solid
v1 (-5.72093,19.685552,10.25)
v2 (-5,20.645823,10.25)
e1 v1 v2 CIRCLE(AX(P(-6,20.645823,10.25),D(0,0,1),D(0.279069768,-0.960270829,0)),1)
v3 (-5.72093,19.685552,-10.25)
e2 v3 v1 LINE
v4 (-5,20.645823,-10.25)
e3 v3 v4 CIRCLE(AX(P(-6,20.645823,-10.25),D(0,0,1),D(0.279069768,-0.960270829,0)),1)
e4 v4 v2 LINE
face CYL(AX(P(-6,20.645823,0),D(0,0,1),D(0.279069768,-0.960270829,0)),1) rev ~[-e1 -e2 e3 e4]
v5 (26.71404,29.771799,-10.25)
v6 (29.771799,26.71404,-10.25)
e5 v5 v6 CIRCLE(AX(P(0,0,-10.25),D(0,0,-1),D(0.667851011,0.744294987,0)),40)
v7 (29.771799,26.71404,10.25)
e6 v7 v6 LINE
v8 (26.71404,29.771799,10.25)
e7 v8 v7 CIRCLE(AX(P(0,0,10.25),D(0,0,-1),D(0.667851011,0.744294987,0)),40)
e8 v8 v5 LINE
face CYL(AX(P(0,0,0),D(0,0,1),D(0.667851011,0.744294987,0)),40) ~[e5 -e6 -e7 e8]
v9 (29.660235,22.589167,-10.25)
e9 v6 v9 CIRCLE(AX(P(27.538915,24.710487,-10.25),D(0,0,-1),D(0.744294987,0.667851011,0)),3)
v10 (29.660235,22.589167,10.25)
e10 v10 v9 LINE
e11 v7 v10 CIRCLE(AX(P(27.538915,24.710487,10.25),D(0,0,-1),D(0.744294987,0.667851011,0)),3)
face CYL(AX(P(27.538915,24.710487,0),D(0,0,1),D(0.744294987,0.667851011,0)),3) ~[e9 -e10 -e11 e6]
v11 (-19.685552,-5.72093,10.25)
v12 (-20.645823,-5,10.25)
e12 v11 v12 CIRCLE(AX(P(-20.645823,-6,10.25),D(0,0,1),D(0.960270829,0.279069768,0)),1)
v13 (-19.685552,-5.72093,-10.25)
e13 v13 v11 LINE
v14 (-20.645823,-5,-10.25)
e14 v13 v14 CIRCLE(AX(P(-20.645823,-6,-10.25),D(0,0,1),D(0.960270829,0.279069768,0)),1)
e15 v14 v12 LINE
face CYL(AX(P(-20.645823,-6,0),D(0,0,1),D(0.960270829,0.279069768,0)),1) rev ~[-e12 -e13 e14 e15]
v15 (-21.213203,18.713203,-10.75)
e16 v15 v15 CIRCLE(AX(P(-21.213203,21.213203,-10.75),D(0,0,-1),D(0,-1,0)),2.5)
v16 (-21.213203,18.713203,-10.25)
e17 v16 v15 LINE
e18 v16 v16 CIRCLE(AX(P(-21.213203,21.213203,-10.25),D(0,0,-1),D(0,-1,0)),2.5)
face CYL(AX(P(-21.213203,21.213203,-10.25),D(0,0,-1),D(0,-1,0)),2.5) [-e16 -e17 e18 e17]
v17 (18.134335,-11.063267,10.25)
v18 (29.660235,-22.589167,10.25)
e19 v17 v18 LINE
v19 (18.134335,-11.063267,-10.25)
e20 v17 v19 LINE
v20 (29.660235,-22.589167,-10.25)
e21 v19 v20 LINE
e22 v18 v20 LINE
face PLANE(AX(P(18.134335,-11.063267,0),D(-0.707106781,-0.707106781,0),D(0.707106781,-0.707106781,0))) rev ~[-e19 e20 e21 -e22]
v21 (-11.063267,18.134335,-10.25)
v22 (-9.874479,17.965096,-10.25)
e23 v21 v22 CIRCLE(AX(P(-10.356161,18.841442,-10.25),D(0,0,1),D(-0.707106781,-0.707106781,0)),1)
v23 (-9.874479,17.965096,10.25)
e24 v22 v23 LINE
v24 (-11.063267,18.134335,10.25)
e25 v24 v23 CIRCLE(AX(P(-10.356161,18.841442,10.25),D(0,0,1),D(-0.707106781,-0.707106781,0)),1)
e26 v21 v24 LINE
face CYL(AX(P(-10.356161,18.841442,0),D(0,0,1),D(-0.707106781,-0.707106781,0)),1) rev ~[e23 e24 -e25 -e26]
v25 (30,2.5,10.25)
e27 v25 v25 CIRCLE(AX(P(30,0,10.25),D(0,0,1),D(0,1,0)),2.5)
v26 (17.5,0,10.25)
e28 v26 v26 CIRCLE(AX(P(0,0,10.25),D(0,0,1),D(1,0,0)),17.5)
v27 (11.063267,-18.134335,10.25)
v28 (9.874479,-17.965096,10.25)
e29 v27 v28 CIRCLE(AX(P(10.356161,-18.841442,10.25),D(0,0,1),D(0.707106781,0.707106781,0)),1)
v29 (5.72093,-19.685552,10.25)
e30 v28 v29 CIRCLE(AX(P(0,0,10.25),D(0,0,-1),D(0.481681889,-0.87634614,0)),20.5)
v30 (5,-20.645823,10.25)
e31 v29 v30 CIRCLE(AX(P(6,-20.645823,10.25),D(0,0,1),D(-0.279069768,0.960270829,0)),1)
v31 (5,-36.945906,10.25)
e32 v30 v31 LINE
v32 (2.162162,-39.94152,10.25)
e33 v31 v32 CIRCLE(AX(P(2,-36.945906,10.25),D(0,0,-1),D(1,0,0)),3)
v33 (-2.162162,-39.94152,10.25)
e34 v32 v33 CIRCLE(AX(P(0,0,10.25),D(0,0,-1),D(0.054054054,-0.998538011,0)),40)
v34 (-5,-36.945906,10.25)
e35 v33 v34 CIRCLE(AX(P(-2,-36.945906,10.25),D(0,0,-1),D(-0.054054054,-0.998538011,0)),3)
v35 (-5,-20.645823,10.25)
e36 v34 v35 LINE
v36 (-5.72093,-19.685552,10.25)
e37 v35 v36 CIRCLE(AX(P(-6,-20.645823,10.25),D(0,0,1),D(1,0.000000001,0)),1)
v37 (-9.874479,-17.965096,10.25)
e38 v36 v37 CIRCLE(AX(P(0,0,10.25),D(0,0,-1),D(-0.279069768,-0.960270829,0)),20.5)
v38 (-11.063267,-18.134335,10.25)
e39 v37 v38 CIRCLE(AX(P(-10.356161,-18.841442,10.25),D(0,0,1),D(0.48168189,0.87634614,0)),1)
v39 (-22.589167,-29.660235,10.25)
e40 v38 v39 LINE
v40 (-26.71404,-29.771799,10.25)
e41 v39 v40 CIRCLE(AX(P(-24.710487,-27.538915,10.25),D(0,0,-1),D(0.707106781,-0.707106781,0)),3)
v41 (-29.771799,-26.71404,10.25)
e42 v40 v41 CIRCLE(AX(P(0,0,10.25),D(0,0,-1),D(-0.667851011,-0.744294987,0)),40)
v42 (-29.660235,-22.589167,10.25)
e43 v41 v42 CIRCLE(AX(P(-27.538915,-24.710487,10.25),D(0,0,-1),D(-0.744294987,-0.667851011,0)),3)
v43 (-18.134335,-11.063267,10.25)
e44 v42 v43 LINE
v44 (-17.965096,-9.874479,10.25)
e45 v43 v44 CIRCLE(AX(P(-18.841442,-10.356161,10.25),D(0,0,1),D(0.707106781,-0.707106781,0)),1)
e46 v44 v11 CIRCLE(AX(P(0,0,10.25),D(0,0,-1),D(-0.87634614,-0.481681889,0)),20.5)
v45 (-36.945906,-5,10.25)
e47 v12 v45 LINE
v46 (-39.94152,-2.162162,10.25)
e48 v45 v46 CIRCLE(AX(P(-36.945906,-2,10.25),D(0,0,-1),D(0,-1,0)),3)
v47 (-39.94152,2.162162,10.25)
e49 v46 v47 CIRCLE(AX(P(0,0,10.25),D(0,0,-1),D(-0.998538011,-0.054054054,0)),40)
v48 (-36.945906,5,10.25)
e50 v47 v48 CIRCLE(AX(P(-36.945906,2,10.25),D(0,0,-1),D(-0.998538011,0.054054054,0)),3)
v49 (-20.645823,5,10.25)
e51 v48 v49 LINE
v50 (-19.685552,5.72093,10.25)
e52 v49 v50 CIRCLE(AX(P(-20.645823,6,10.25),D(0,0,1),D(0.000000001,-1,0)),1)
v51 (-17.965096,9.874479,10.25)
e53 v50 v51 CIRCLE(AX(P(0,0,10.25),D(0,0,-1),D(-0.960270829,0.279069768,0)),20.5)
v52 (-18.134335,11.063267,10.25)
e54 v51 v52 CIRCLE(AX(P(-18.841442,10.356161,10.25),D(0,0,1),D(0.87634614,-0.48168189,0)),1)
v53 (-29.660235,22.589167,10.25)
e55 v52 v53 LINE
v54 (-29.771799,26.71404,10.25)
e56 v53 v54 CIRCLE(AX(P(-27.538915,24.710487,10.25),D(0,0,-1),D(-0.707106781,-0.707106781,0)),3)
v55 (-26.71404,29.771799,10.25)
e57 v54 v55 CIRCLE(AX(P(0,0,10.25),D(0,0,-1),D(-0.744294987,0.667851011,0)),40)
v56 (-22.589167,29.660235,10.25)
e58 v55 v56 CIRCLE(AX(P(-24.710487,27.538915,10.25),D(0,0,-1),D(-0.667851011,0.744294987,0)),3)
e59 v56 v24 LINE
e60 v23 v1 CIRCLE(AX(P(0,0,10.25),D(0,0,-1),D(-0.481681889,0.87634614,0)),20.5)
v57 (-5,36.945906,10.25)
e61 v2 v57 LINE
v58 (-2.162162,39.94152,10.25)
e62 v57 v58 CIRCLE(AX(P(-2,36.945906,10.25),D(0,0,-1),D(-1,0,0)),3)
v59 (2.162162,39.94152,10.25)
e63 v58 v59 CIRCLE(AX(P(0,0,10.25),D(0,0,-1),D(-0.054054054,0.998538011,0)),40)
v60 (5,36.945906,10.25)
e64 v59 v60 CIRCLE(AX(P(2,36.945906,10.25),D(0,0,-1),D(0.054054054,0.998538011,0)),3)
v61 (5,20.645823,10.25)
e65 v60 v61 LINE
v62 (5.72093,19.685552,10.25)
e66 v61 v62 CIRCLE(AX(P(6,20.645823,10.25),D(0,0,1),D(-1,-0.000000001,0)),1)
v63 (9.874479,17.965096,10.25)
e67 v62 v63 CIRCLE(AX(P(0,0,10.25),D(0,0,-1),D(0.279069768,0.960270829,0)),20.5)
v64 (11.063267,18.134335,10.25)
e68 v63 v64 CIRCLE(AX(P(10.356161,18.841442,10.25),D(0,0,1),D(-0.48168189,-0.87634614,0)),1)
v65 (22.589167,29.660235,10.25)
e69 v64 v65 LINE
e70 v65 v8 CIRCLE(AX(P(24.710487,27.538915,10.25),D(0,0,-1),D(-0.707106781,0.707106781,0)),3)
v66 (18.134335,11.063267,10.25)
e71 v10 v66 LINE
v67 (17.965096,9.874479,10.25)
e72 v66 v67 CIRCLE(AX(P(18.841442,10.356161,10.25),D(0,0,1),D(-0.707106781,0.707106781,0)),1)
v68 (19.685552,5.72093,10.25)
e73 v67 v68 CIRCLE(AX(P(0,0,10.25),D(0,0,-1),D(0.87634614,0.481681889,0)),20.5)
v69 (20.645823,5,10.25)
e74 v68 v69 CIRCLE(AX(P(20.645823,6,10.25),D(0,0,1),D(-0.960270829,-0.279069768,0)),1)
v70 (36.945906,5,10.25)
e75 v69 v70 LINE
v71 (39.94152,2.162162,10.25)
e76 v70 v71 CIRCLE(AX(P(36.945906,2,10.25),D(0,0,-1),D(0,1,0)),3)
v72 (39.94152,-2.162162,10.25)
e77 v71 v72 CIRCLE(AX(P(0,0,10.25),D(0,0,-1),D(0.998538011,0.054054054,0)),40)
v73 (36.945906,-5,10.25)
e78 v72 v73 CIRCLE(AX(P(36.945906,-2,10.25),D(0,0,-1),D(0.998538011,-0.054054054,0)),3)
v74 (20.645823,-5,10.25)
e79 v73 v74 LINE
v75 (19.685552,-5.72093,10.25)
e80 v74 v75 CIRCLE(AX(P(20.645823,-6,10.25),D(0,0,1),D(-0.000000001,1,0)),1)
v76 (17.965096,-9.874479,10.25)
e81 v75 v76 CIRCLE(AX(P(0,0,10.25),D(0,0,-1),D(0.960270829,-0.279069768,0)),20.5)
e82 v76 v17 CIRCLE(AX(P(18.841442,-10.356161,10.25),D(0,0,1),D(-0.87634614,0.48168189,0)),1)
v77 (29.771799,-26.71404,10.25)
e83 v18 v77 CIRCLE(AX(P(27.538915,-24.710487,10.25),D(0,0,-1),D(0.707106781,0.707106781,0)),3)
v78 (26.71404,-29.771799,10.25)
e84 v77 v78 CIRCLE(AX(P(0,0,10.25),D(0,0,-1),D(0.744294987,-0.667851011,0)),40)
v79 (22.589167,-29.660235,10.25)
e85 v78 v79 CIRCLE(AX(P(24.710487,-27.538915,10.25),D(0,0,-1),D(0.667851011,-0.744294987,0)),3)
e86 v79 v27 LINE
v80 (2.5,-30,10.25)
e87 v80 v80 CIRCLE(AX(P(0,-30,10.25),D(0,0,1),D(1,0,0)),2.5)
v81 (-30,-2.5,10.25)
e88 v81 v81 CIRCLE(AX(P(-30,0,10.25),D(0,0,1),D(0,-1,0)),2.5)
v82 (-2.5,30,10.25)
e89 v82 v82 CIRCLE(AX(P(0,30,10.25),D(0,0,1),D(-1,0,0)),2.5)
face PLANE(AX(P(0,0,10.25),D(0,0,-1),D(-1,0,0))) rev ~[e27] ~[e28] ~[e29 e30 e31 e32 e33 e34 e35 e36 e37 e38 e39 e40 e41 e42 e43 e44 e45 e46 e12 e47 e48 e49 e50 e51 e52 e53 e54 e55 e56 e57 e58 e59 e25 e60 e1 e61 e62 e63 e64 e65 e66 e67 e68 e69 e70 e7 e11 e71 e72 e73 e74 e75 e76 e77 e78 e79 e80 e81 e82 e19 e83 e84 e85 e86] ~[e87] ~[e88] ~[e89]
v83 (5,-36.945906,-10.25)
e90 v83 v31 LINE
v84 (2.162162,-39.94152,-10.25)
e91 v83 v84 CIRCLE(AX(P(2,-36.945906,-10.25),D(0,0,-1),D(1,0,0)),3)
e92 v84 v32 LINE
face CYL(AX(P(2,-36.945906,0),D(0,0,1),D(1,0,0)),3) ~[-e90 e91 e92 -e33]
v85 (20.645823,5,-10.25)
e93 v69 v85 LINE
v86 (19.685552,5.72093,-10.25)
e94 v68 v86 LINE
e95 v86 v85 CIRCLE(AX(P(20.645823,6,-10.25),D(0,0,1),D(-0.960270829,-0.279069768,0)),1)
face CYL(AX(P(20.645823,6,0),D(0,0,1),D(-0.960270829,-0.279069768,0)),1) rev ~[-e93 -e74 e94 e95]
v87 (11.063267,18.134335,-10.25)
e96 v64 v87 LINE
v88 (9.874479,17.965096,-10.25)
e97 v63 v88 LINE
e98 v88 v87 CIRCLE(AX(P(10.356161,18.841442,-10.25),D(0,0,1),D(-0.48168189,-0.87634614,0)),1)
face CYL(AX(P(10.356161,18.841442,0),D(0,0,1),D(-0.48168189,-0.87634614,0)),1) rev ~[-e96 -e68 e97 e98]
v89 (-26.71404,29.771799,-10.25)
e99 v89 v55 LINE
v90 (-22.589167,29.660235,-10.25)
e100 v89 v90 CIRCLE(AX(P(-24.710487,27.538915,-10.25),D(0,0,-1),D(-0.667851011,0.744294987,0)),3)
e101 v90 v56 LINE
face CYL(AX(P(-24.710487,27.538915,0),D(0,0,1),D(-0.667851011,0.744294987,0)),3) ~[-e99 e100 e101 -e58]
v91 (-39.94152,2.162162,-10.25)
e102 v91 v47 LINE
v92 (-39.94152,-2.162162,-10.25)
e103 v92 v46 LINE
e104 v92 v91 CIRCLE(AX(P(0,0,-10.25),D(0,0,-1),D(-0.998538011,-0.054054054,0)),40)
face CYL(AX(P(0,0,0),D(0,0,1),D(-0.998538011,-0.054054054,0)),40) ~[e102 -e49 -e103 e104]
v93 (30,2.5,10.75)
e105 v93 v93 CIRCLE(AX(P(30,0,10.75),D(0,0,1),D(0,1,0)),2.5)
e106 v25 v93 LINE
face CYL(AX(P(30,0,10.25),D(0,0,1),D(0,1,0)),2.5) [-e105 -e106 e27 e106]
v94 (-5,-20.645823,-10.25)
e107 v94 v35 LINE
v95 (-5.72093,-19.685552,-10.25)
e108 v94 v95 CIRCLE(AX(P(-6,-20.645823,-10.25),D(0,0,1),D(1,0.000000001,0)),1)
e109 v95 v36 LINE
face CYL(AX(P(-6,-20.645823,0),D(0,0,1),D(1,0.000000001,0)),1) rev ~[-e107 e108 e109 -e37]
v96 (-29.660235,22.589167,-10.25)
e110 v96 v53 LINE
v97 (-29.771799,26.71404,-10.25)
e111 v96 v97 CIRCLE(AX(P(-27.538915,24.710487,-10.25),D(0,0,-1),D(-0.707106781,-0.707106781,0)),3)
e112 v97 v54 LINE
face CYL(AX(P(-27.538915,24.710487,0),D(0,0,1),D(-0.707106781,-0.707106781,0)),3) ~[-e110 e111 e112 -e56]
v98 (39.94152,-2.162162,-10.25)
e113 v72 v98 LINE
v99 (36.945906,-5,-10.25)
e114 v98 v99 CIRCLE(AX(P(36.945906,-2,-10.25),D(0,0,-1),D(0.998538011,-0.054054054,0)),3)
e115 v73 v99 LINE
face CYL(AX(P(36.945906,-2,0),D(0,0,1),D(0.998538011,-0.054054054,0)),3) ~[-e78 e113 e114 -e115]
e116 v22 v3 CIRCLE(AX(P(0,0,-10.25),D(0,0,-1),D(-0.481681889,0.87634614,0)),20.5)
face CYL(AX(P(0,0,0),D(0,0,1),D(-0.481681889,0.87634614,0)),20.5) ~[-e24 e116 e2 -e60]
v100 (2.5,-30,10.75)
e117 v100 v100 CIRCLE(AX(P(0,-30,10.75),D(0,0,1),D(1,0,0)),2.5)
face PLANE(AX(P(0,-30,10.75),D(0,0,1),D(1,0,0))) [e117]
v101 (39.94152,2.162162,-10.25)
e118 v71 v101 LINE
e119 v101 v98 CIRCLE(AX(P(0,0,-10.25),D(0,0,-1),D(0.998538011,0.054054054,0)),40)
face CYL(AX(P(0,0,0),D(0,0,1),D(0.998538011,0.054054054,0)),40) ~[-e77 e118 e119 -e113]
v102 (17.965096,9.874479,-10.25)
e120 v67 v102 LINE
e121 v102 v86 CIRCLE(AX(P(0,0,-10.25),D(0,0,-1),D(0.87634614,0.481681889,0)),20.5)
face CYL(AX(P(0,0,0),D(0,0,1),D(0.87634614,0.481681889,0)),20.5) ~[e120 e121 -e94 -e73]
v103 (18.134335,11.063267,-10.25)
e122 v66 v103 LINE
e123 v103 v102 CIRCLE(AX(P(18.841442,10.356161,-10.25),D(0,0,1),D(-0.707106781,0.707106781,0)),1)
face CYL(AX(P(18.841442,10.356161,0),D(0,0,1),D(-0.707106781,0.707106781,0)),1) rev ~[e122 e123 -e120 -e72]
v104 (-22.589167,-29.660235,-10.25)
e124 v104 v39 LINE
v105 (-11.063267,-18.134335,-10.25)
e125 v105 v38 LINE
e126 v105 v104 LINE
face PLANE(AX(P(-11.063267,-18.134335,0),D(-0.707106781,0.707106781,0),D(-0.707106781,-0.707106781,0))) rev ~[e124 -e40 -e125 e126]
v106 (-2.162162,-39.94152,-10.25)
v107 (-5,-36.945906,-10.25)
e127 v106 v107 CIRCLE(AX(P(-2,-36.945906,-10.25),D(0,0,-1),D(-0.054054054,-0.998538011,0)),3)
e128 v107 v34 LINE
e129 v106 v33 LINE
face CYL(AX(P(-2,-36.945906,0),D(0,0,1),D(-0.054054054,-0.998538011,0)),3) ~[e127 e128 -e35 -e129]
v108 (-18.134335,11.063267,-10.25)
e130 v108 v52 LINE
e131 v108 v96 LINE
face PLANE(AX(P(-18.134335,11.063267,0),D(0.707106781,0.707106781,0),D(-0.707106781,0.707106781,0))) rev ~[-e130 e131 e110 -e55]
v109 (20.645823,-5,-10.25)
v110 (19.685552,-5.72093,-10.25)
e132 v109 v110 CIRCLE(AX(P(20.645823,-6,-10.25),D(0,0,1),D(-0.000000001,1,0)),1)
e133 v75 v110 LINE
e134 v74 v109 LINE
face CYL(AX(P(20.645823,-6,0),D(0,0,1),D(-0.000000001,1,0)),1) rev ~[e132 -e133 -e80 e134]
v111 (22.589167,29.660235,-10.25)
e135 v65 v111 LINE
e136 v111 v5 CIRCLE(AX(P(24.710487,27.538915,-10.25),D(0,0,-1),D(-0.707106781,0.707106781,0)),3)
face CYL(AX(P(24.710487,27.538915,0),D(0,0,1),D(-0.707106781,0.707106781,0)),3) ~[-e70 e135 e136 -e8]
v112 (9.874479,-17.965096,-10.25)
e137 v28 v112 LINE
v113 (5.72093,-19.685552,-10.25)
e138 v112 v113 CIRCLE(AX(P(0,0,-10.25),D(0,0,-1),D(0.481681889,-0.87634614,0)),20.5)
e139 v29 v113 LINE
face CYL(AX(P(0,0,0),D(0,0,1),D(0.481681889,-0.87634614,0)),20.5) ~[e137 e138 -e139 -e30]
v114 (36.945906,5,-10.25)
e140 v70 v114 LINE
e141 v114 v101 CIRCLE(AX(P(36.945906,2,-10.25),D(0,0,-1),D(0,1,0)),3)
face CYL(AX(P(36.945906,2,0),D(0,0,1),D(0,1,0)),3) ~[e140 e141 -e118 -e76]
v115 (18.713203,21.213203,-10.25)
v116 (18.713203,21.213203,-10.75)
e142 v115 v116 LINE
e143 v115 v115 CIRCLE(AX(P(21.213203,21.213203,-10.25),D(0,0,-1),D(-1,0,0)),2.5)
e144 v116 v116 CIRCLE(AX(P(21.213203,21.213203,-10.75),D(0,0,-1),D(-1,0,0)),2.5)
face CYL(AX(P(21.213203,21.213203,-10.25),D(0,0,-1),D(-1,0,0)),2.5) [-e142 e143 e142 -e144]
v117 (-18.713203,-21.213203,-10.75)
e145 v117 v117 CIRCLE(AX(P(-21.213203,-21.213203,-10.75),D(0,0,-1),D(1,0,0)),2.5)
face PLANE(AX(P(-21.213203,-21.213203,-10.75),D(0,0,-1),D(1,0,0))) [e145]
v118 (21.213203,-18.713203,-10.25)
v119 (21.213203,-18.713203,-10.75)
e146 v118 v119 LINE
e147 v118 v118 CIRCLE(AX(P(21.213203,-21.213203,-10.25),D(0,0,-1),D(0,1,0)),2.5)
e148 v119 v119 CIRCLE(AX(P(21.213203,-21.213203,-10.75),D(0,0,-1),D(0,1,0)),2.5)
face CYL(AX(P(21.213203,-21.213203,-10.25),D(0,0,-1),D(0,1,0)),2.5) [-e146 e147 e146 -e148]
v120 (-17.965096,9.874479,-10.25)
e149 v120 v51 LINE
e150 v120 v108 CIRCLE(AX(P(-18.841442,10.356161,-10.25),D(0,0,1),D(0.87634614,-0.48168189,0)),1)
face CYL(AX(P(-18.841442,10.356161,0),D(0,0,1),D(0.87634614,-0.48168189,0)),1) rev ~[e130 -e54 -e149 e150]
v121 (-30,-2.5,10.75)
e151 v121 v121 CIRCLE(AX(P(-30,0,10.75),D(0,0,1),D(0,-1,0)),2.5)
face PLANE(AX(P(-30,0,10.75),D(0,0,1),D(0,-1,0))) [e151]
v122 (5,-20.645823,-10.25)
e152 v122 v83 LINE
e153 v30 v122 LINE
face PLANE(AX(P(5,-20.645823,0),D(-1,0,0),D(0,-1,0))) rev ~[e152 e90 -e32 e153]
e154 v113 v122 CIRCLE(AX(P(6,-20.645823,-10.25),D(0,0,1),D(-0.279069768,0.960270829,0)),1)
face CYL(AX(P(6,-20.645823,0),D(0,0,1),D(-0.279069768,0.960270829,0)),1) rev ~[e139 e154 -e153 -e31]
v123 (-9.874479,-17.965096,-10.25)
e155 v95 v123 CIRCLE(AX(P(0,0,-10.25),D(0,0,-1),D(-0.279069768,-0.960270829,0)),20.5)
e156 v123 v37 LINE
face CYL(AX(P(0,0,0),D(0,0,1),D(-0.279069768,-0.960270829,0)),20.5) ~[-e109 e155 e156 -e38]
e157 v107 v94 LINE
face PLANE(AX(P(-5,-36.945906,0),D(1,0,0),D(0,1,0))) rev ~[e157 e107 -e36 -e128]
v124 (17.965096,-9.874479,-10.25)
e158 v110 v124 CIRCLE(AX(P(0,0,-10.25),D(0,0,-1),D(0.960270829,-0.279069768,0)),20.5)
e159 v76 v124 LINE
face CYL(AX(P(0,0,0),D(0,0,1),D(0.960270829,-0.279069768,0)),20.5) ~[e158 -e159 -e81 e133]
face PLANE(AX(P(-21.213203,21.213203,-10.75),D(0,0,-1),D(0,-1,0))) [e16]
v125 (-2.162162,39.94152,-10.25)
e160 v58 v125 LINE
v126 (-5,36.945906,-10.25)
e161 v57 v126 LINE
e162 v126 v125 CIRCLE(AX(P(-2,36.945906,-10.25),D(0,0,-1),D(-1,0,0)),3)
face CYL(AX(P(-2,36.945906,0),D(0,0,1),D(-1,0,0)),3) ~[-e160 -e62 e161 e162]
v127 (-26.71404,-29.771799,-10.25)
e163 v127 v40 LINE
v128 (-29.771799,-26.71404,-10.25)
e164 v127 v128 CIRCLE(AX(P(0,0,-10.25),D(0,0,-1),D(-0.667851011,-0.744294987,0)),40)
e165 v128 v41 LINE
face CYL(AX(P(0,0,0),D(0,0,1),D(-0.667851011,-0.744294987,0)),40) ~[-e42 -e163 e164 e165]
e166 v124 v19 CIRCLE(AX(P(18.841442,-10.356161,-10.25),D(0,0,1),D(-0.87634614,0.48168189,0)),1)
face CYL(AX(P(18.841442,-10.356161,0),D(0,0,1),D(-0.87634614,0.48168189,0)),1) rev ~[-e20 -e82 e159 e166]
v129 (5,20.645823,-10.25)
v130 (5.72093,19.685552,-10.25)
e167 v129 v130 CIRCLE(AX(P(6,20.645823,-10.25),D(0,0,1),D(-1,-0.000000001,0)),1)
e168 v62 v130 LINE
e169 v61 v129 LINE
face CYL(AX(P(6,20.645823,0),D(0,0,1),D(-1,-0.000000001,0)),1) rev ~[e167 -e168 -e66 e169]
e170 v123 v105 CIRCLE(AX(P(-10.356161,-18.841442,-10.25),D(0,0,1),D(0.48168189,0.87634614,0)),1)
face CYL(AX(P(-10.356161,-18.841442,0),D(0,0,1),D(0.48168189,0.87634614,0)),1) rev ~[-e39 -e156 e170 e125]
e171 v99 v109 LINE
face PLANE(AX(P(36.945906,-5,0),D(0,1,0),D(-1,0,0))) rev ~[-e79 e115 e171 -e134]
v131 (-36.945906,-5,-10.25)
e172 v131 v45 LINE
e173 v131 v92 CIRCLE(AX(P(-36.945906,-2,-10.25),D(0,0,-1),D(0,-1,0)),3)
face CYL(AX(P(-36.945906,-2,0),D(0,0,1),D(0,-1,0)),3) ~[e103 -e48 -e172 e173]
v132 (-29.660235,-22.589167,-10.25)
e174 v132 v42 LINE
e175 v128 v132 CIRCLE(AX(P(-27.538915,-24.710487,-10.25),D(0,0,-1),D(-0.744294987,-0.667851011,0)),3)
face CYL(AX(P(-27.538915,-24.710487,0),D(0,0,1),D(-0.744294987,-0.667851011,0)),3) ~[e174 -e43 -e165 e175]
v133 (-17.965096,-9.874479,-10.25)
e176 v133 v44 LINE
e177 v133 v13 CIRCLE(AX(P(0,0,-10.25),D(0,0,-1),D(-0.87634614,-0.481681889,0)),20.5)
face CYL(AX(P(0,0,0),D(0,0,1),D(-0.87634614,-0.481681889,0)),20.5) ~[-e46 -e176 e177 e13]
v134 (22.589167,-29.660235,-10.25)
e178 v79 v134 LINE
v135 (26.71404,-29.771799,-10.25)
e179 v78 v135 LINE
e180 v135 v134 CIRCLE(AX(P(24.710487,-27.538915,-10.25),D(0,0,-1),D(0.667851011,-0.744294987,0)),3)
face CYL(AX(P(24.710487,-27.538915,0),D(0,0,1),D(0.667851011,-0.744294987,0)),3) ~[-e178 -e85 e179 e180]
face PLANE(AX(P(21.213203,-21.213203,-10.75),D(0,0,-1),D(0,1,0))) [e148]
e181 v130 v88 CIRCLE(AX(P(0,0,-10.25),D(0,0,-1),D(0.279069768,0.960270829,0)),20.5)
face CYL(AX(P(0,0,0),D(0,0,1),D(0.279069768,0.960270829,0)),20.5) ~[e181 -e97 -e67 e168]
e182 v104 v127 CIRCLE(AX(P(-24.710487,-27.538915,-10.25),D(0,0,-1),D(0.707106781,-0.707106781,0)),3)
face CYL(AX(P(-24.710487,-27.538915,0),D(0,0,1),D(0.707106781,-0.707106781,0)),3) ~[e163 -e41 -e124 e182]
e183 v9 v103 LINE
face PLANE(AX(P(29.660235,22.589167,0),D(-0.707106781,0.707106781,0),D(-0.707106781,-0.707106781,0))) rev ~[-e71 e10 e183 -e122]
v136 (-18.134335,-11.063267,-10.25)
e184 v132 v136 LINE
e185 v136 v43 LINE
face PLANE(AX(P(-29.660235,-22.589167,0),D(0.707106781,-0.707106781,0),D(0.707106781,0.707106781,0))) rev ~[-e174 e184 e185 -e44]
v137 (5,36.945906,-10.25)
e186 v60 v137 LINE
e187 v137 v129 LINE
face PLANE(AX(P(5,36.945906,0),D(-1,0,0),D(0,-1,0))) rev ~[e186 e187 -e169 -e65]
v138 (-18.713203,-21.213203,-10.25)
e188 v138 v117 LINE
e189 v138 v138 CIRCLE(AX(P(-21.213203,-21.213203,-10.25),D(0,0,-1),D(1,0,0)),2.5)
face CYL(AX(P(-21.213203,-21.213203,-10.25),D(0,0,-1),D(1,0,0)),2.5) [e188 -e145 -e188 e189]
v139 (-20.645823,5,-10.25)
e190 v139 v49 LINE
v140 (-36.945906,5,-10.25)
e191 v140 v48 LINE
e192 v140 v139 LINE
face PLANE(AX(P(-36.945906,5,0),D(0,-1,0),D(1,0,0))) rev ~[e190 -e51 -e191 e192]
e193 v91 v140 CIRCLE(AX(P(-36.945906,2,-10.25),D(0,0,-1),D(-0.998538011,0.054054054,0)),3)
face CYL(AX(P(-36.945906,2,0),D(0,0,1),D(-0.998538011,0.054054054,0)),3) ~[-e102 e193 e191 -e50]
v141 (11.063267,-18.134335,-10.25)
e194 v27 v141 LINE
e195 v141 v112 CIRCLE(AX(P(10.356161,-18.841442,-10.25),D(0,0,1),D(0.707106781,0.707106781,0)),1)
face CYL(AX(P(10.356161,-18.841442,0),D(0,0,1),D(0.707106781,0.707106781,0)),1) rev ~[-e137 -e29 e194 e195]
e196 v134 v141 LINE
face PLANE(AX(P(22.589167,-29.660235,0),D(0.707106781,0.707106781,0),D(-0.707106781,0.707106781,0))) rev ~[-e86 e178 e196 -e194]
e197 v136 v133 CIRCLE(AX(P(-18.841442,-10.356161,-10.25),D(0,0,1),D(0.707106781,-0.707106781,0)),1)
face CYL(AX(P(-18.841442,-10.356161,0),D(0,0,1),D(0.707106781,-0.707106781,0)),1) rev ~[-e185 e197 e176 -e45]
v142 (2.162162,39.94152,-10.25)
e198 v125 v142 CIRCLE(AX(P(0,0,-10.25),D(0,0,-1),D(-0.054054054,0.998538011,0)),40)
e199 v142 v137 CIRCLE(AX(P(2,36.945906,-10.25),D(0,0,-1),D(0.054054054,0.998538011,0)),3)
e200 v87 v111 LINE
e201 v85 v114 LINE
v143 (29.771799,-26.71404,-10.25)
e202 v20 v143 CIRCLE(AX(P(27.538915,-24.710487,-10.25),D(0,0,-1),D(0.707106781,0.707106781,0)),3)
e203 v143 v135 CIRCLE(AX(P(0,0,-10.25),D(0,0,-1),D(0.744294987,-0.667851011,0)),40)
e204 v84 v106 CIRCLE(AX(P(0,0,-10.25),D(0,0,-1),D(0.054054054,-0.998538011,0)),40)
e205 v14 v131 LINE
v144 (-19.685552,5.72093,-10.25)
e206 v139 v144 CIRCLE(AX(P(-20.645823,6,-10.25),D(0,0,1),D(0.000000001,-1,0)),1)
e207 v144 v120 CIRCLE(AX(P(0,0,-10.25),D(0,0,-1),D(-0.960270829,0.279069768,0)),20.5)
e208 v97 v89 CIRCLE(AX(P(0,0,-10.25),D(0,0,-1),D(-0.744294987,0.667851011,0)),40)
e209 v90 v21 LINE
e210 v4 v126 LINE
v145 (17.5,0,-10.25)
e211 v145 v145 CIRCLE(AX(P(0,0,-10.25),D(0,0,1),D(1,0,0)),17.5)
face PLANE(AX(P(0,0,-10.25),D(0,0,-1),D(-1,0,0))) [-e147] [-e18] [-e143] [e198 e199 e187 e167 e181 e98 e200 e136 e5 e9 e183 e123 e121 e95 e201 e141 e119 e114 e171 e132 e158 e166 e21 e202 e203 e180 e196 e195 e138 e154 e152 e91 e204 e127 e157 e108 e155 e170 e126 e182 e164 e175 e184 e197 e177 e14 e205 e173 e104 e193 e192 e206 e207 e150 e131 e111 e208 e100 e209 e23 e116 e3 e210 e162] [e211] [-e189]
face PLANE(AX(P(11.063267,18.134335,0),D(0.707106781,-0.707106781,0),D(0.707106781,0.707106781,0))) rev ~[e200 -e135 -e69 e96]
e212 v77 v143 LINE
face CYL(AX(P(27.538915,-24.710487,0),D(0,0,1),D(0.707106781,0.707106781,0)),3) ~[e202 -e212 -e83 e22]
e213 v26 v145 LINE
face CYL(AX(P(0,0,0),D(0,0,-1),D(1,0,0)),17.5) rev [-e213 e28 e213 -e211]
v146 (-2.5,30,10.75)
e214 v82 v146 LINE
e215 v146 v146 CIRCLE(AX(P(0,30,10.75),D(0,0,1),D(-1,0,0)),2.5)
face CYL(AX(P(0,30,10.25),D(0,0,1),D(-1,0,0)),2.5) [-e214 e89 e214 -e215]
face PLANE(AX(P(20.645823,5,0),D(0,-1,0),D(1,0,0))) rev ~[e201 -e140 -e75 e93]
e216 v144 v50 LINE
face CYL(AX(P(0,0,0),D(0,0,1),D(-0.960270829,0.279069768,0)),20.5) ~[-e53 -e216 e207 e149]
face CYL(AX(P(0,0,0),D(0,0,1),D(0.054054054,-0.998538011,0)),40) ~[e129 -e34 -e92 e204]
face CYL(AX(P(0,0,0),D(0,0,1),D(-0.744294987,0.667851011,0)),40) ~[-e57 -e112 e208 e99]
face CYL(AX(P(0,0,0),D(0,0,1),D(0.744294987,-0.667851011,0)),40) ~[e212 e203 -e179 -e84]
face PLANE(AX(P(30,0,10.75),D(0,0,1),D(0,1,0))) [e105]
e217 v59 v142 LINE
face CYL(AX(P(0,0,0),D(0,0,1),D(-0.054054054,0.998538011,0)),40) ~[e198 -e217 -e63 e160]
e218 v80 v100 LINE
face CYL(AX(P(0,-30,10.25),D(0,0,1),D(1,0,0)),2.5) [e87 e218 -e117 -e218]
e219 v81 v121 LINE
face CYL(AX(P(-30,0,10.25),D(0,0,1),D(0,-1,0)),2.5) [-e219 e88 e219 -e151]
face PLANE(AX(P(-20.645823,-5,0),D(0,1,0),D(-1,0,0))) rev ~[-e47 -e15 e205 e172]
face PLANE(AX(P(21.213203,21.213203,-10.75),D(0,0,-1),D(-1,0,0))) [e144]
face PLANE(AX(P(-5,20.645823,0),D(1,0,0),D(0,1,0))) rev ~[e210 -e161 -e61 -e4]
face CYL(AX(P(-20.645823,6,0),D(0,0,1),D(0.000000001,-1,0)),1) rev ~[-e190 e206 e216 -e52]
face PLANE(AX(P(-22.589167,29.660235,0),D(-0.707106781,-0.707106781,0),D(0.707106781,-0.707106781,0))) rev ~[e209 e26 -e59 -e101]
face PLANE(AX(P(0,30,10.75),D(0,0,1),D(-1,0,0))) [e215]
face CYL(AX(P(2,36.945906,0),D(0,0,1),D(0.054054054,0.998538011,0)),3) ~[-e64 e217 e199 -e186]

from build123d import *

# Parameters (mm, degrees)
SKETCH1_R           = 17.5
BOSS_EXTRUDE1_DEPTH = 10.25
SKETCH2_R           = 2.5
BOSS_EXTRUDE2_DEPTH = 0.5
SKETCH3_R           = 2.5
BOSS_EXTRUDE3_DEPTH = 0.5
CIRPATTERN1_COUNT   = 4


with BuildPart() as part:
    # Sketch1 → Boss-Extrude1 (new, symmetric)
    with BuildSketch(Plane.XY):
        with BuildLine():
            Line((-5, 20.645822822), (-5, 36.945906404))
            ThreePointArc((-5, 36.945906404), (-4.177898814, 39.00909732), (-2.162162162, 39.941520437))
            ThreePointArc((-2.162162162, 39.941520437), (0, 40), (2.162162162, 39.941520437))
            ThreePointArc((2.162162162, 39.941520437), (4.177898814, 39.00909732), (5, 36.945906404))
            Line((5, 36.945906404), (5, 20.645822822))
            ThreePointArc((5, 20.645822822), (5.200290751, 20.04543535), (5.720930233, 19.685551993))
            ThreePointArc((5.720930233, 19.685551993), (7.845010363, 18.939530416), (9.874478744, 17.965095868))
            ThreePointArc((9.874478744, 17.965095868), (10.497102414, 17.851424122), (11.063267415, 18.134335227))
            Line((11.063267415, 18.134335227), (22.589167049, 29.660234861))
            ThreePointArc((22.589167049, 29.660234861), (24.629376661, 30.537817825), (26.714040425, 29.771799478))
            ThreePointArc((26.714040425, 29.771799478), (28.284271247, 28.284271247), (29.771799478, 26.714040425))
            ThreePointArc((29.771799478, 26.714040425), (30.537817825, 24.629376661), (29.660234861, 22.589167049))
            Line((29.660234861, 22.589167049), (18.134335227, 11.063267415))
            ThreePointArc((18.134335227, 11.063267415), (17.851424122, 10.497102414), (17.965095868, 9.874478744))
            ThreePointArc((17.965095868, 9.874478744), (18.939530416, 7.845010363), (19.685551993, 5.720930233))
            ThreePointArc((19.685551993, 5.720930233), (20.04543535, 5.200290751), (20.645822822, 5))
            Line((20.645822822, 5), (36.945906404, 5))
            ThreePointArc((36.945906404, 5), (39.00909732, 4.177898814), (39.941520437, 2.162162162))
            ThreePointArc((39.941520437, 2.162162162), (40, 0), (39.941520437, -2.162162162))
            ThreePointArc((39.941520437, -2.162162162), (39.00909732, -4.177898814), (36.945906404, -5))
            Line((36.945906404, -5), (20.645822822, -5))
            ThreePointArc((20.645822822, -5), (20.04543535, -5.200290751), (19.685551993, -5.720930233))
            ThreePointArc((19.685551993, -5.720930233), (18.939530416, -7.845010363), (17.965095868, -9.874478744))
            ThreePointArc((17.965095868, -9.874478744), (17.851424122, -10.497102414), (18.134335227, -11.063267415))
            Line((18.134335227, -11.063267415), (29.660234861, -22.589167049))
            ThreePointArc((29.660234861, -22.589167049), (30.537817825, -24.629376661), (29.771799478, -26.714040425))
            ThreePointArc((29.771799478, -26.714040425), (28.284271247, -28.284271247), (26.714040425, -29.771799478))
            ThreePointArc((26.714040425, -29.771799478), (24.629376661, -30.537817825), (22.589167049, -29.660234861))
            Line((22.589167049, -29.660234861), (11.063267415, -18.134335227))
            ThreePointArc((11.063267415, -18.134335227), (10.497102414, -17.851424122), (9.874478744, -17.965095868))
            ThreePointArc((9.874478744, -17.965095868), (7.845010363, -18.939530416), (5.720930233, -19.685551993))
            ThreePointArc((5.720930233, -19.685551993), (5.200290751, -20.04543535), (5, -20.645822822))
            Line((5, -20.645822822), (5, -36.945906404))
            ThreePointArc((5, -36.945906404), (4.177898814, -39.00909732), (2.162162162, -39.941520437))
            ThreePointArc((2.162162162, -39.941520437), (0, -40), (-2.162162162, -39.941520437))
            ThreePointArc((-2.162162162, -39.941520437), (-4.177898814, -39.00909732), (-5, -36.945906404))
            Line((-5, -36.945906404), (-5, -20.645822822))
            ThreePointArc((-5, -20.645822822), (-5.200290751, -20.04543535), (-5.720930233, -19.685551993))
            ThreePointArc((-5.720930233, -19.685551993), (-7.845010363, -18.939530416), (-9.874478744, -17.965095868))
            ThreePointArc((-9.874478744, -17.965095868), (-10.497102414, -17.851424122), (-11.063267415, -18.134335227))
            Line((-11.063267415, -18.134335227), (-22.589167049, -29.660234861))
            ThreePointArc((-22.589167049, -29.660234861), (-24.629376661, -30.537817825), (-26.714040425, -29.771799478))
            ThreePointArc((-26.714040425, -29.771799478), (-28.284271247, -28.284271247), (-29.771799478, -26.714040425))
            ThreePointArc((-29.771799478, -26.714040425), (-30.537817825, -24.629376661), (-29.660234861, -22.589167049))
            Line((-29.660234861, -22.589167049), (-18.134335227, -11.063267415))
            ThreePointArc((-18.134335227, -11.063267415), (-17.851424122, -10.497102414), (-17.965095868, -9.874478744))
            ThreePointArc((-17.965095868, -9.874478744), (-18.939530416, -7.845010363), (-19.685551993, -5.720930233))
            ThreePointArc((-19.685551993, -5.720930233), (-20.04543535, -5.200290751), (-20.645822822, -5))
            Line((-20.645822822, -5), (-36.945906404, -5))
            ThreePointArc((-36.945906404, -5), (-39.00909732, -4.177898814), (-39.941520437, -2.162162162))
            ThreePointArc((-39.941520437, -2.162162162), (-40, 0), (-39.941520437, 2.162162162))
            ThreePointArc((-39.941520437, 2.162162162), (-39.00909732, 4.177898814), (-36.945906404, 5))
            Line((-36.945906404, 5), (-20.645822822, 5))
            ThreePointArc((-20.645822822, 5), (-20.04543535, 5.200290751), (-19.685551993, 5.720930233))
            ThreePointArc((-19.685551993, 5.720930233), (-18.939530416, 7.845010363), (-17.965095868, 9.874478744))
            ThreePointArc((-17.965095868, 9.874478744), (-17.851424122, 10.497102414), (-18.134335227, 11.063267415))
            Line((-18.134335227, 11.063267415), (-29.660234861, 22.589167049))
            ThreePointArc((-29.660234861, 22.589167049), (-30.537817825, 24.629376661), (-29.771799478, 26.714040425))
            ThreePointArc((-29.771799478, 26.714040425), (-28.284271247, 28.284271247), (-26.714040425, 29.771799478))
            ThreePointArc((-26.714040425, 29.771799478), (-24.629376661, 30.537817825), (-22.589167049, 29.660234861))
            Line((-22.589167049, 29.660234861), (-11.063267415, 18.134335227))
            ThreePointArc((-11.063267415, 18.134335227), (-10.497102414, 17.851424122), (-9.874478744, 17.965095868))
            ThreePointArc((-9.874478744, 17.965095868), (-7.845010363, 18.939530416), (-5.720930233, 19.685551993))
            ThreePointArc((-5.720930233, 19.685551993), (-5.200290751, 20.04543535), (-5, 20.645822822))
        make_face()
        Circle(SKETCH1_R, mode=Mode.SUBTRACT)
    extrude(amount=BOSS_EXTRUDE1_DEPTH, both=True)

    # Sketch2 → Boss-Extrude2 (add, symmetric)
    with BuildSketch(Plane.XY.offset(10.25)):
        with Locations(Location((0, 30, 0), (0, 0, 180))):
            Circle(SKETCH2_R)
    boss_extrude2 = extrude(amount=BOSS_EXTRUDE2_DEPTH, both=True)

    # Sketch3 → Boss-Extrude3 (add, symmetric)
    with BuildSketch(Plane(origin=(0, 0, -10.25), x_dir=(-1, 0, 0), z_dir=(0, 0, -1))):
        with Locations((-21.213203436, 21.213203436)):
            Circle(SKETCH3_R)
    boss_extrude3 = extrude(amount=BOSS_EXTRUDE3_DEPTH, both=True)

    # CirPattern1: Boss-Extrude2, Boss-Extrude3 ×4 about axis
    cirpattern1_axis = Axis((0, 0, 0), (0, 0, 1))
    add([boss_extrude2.rotate(cirpattern1_axis, i * 360 / CIRPATTERN1_COUNT) for i in range(1, CIRPATTERN1_COUNT)])
    add([boss_extrude3.rotate(cirpattern1_axis, i * 360 / CIRPATTERN1_COUNT) for i in range(1, CIRPATTERN1_COUNT)])


solid = part.part
